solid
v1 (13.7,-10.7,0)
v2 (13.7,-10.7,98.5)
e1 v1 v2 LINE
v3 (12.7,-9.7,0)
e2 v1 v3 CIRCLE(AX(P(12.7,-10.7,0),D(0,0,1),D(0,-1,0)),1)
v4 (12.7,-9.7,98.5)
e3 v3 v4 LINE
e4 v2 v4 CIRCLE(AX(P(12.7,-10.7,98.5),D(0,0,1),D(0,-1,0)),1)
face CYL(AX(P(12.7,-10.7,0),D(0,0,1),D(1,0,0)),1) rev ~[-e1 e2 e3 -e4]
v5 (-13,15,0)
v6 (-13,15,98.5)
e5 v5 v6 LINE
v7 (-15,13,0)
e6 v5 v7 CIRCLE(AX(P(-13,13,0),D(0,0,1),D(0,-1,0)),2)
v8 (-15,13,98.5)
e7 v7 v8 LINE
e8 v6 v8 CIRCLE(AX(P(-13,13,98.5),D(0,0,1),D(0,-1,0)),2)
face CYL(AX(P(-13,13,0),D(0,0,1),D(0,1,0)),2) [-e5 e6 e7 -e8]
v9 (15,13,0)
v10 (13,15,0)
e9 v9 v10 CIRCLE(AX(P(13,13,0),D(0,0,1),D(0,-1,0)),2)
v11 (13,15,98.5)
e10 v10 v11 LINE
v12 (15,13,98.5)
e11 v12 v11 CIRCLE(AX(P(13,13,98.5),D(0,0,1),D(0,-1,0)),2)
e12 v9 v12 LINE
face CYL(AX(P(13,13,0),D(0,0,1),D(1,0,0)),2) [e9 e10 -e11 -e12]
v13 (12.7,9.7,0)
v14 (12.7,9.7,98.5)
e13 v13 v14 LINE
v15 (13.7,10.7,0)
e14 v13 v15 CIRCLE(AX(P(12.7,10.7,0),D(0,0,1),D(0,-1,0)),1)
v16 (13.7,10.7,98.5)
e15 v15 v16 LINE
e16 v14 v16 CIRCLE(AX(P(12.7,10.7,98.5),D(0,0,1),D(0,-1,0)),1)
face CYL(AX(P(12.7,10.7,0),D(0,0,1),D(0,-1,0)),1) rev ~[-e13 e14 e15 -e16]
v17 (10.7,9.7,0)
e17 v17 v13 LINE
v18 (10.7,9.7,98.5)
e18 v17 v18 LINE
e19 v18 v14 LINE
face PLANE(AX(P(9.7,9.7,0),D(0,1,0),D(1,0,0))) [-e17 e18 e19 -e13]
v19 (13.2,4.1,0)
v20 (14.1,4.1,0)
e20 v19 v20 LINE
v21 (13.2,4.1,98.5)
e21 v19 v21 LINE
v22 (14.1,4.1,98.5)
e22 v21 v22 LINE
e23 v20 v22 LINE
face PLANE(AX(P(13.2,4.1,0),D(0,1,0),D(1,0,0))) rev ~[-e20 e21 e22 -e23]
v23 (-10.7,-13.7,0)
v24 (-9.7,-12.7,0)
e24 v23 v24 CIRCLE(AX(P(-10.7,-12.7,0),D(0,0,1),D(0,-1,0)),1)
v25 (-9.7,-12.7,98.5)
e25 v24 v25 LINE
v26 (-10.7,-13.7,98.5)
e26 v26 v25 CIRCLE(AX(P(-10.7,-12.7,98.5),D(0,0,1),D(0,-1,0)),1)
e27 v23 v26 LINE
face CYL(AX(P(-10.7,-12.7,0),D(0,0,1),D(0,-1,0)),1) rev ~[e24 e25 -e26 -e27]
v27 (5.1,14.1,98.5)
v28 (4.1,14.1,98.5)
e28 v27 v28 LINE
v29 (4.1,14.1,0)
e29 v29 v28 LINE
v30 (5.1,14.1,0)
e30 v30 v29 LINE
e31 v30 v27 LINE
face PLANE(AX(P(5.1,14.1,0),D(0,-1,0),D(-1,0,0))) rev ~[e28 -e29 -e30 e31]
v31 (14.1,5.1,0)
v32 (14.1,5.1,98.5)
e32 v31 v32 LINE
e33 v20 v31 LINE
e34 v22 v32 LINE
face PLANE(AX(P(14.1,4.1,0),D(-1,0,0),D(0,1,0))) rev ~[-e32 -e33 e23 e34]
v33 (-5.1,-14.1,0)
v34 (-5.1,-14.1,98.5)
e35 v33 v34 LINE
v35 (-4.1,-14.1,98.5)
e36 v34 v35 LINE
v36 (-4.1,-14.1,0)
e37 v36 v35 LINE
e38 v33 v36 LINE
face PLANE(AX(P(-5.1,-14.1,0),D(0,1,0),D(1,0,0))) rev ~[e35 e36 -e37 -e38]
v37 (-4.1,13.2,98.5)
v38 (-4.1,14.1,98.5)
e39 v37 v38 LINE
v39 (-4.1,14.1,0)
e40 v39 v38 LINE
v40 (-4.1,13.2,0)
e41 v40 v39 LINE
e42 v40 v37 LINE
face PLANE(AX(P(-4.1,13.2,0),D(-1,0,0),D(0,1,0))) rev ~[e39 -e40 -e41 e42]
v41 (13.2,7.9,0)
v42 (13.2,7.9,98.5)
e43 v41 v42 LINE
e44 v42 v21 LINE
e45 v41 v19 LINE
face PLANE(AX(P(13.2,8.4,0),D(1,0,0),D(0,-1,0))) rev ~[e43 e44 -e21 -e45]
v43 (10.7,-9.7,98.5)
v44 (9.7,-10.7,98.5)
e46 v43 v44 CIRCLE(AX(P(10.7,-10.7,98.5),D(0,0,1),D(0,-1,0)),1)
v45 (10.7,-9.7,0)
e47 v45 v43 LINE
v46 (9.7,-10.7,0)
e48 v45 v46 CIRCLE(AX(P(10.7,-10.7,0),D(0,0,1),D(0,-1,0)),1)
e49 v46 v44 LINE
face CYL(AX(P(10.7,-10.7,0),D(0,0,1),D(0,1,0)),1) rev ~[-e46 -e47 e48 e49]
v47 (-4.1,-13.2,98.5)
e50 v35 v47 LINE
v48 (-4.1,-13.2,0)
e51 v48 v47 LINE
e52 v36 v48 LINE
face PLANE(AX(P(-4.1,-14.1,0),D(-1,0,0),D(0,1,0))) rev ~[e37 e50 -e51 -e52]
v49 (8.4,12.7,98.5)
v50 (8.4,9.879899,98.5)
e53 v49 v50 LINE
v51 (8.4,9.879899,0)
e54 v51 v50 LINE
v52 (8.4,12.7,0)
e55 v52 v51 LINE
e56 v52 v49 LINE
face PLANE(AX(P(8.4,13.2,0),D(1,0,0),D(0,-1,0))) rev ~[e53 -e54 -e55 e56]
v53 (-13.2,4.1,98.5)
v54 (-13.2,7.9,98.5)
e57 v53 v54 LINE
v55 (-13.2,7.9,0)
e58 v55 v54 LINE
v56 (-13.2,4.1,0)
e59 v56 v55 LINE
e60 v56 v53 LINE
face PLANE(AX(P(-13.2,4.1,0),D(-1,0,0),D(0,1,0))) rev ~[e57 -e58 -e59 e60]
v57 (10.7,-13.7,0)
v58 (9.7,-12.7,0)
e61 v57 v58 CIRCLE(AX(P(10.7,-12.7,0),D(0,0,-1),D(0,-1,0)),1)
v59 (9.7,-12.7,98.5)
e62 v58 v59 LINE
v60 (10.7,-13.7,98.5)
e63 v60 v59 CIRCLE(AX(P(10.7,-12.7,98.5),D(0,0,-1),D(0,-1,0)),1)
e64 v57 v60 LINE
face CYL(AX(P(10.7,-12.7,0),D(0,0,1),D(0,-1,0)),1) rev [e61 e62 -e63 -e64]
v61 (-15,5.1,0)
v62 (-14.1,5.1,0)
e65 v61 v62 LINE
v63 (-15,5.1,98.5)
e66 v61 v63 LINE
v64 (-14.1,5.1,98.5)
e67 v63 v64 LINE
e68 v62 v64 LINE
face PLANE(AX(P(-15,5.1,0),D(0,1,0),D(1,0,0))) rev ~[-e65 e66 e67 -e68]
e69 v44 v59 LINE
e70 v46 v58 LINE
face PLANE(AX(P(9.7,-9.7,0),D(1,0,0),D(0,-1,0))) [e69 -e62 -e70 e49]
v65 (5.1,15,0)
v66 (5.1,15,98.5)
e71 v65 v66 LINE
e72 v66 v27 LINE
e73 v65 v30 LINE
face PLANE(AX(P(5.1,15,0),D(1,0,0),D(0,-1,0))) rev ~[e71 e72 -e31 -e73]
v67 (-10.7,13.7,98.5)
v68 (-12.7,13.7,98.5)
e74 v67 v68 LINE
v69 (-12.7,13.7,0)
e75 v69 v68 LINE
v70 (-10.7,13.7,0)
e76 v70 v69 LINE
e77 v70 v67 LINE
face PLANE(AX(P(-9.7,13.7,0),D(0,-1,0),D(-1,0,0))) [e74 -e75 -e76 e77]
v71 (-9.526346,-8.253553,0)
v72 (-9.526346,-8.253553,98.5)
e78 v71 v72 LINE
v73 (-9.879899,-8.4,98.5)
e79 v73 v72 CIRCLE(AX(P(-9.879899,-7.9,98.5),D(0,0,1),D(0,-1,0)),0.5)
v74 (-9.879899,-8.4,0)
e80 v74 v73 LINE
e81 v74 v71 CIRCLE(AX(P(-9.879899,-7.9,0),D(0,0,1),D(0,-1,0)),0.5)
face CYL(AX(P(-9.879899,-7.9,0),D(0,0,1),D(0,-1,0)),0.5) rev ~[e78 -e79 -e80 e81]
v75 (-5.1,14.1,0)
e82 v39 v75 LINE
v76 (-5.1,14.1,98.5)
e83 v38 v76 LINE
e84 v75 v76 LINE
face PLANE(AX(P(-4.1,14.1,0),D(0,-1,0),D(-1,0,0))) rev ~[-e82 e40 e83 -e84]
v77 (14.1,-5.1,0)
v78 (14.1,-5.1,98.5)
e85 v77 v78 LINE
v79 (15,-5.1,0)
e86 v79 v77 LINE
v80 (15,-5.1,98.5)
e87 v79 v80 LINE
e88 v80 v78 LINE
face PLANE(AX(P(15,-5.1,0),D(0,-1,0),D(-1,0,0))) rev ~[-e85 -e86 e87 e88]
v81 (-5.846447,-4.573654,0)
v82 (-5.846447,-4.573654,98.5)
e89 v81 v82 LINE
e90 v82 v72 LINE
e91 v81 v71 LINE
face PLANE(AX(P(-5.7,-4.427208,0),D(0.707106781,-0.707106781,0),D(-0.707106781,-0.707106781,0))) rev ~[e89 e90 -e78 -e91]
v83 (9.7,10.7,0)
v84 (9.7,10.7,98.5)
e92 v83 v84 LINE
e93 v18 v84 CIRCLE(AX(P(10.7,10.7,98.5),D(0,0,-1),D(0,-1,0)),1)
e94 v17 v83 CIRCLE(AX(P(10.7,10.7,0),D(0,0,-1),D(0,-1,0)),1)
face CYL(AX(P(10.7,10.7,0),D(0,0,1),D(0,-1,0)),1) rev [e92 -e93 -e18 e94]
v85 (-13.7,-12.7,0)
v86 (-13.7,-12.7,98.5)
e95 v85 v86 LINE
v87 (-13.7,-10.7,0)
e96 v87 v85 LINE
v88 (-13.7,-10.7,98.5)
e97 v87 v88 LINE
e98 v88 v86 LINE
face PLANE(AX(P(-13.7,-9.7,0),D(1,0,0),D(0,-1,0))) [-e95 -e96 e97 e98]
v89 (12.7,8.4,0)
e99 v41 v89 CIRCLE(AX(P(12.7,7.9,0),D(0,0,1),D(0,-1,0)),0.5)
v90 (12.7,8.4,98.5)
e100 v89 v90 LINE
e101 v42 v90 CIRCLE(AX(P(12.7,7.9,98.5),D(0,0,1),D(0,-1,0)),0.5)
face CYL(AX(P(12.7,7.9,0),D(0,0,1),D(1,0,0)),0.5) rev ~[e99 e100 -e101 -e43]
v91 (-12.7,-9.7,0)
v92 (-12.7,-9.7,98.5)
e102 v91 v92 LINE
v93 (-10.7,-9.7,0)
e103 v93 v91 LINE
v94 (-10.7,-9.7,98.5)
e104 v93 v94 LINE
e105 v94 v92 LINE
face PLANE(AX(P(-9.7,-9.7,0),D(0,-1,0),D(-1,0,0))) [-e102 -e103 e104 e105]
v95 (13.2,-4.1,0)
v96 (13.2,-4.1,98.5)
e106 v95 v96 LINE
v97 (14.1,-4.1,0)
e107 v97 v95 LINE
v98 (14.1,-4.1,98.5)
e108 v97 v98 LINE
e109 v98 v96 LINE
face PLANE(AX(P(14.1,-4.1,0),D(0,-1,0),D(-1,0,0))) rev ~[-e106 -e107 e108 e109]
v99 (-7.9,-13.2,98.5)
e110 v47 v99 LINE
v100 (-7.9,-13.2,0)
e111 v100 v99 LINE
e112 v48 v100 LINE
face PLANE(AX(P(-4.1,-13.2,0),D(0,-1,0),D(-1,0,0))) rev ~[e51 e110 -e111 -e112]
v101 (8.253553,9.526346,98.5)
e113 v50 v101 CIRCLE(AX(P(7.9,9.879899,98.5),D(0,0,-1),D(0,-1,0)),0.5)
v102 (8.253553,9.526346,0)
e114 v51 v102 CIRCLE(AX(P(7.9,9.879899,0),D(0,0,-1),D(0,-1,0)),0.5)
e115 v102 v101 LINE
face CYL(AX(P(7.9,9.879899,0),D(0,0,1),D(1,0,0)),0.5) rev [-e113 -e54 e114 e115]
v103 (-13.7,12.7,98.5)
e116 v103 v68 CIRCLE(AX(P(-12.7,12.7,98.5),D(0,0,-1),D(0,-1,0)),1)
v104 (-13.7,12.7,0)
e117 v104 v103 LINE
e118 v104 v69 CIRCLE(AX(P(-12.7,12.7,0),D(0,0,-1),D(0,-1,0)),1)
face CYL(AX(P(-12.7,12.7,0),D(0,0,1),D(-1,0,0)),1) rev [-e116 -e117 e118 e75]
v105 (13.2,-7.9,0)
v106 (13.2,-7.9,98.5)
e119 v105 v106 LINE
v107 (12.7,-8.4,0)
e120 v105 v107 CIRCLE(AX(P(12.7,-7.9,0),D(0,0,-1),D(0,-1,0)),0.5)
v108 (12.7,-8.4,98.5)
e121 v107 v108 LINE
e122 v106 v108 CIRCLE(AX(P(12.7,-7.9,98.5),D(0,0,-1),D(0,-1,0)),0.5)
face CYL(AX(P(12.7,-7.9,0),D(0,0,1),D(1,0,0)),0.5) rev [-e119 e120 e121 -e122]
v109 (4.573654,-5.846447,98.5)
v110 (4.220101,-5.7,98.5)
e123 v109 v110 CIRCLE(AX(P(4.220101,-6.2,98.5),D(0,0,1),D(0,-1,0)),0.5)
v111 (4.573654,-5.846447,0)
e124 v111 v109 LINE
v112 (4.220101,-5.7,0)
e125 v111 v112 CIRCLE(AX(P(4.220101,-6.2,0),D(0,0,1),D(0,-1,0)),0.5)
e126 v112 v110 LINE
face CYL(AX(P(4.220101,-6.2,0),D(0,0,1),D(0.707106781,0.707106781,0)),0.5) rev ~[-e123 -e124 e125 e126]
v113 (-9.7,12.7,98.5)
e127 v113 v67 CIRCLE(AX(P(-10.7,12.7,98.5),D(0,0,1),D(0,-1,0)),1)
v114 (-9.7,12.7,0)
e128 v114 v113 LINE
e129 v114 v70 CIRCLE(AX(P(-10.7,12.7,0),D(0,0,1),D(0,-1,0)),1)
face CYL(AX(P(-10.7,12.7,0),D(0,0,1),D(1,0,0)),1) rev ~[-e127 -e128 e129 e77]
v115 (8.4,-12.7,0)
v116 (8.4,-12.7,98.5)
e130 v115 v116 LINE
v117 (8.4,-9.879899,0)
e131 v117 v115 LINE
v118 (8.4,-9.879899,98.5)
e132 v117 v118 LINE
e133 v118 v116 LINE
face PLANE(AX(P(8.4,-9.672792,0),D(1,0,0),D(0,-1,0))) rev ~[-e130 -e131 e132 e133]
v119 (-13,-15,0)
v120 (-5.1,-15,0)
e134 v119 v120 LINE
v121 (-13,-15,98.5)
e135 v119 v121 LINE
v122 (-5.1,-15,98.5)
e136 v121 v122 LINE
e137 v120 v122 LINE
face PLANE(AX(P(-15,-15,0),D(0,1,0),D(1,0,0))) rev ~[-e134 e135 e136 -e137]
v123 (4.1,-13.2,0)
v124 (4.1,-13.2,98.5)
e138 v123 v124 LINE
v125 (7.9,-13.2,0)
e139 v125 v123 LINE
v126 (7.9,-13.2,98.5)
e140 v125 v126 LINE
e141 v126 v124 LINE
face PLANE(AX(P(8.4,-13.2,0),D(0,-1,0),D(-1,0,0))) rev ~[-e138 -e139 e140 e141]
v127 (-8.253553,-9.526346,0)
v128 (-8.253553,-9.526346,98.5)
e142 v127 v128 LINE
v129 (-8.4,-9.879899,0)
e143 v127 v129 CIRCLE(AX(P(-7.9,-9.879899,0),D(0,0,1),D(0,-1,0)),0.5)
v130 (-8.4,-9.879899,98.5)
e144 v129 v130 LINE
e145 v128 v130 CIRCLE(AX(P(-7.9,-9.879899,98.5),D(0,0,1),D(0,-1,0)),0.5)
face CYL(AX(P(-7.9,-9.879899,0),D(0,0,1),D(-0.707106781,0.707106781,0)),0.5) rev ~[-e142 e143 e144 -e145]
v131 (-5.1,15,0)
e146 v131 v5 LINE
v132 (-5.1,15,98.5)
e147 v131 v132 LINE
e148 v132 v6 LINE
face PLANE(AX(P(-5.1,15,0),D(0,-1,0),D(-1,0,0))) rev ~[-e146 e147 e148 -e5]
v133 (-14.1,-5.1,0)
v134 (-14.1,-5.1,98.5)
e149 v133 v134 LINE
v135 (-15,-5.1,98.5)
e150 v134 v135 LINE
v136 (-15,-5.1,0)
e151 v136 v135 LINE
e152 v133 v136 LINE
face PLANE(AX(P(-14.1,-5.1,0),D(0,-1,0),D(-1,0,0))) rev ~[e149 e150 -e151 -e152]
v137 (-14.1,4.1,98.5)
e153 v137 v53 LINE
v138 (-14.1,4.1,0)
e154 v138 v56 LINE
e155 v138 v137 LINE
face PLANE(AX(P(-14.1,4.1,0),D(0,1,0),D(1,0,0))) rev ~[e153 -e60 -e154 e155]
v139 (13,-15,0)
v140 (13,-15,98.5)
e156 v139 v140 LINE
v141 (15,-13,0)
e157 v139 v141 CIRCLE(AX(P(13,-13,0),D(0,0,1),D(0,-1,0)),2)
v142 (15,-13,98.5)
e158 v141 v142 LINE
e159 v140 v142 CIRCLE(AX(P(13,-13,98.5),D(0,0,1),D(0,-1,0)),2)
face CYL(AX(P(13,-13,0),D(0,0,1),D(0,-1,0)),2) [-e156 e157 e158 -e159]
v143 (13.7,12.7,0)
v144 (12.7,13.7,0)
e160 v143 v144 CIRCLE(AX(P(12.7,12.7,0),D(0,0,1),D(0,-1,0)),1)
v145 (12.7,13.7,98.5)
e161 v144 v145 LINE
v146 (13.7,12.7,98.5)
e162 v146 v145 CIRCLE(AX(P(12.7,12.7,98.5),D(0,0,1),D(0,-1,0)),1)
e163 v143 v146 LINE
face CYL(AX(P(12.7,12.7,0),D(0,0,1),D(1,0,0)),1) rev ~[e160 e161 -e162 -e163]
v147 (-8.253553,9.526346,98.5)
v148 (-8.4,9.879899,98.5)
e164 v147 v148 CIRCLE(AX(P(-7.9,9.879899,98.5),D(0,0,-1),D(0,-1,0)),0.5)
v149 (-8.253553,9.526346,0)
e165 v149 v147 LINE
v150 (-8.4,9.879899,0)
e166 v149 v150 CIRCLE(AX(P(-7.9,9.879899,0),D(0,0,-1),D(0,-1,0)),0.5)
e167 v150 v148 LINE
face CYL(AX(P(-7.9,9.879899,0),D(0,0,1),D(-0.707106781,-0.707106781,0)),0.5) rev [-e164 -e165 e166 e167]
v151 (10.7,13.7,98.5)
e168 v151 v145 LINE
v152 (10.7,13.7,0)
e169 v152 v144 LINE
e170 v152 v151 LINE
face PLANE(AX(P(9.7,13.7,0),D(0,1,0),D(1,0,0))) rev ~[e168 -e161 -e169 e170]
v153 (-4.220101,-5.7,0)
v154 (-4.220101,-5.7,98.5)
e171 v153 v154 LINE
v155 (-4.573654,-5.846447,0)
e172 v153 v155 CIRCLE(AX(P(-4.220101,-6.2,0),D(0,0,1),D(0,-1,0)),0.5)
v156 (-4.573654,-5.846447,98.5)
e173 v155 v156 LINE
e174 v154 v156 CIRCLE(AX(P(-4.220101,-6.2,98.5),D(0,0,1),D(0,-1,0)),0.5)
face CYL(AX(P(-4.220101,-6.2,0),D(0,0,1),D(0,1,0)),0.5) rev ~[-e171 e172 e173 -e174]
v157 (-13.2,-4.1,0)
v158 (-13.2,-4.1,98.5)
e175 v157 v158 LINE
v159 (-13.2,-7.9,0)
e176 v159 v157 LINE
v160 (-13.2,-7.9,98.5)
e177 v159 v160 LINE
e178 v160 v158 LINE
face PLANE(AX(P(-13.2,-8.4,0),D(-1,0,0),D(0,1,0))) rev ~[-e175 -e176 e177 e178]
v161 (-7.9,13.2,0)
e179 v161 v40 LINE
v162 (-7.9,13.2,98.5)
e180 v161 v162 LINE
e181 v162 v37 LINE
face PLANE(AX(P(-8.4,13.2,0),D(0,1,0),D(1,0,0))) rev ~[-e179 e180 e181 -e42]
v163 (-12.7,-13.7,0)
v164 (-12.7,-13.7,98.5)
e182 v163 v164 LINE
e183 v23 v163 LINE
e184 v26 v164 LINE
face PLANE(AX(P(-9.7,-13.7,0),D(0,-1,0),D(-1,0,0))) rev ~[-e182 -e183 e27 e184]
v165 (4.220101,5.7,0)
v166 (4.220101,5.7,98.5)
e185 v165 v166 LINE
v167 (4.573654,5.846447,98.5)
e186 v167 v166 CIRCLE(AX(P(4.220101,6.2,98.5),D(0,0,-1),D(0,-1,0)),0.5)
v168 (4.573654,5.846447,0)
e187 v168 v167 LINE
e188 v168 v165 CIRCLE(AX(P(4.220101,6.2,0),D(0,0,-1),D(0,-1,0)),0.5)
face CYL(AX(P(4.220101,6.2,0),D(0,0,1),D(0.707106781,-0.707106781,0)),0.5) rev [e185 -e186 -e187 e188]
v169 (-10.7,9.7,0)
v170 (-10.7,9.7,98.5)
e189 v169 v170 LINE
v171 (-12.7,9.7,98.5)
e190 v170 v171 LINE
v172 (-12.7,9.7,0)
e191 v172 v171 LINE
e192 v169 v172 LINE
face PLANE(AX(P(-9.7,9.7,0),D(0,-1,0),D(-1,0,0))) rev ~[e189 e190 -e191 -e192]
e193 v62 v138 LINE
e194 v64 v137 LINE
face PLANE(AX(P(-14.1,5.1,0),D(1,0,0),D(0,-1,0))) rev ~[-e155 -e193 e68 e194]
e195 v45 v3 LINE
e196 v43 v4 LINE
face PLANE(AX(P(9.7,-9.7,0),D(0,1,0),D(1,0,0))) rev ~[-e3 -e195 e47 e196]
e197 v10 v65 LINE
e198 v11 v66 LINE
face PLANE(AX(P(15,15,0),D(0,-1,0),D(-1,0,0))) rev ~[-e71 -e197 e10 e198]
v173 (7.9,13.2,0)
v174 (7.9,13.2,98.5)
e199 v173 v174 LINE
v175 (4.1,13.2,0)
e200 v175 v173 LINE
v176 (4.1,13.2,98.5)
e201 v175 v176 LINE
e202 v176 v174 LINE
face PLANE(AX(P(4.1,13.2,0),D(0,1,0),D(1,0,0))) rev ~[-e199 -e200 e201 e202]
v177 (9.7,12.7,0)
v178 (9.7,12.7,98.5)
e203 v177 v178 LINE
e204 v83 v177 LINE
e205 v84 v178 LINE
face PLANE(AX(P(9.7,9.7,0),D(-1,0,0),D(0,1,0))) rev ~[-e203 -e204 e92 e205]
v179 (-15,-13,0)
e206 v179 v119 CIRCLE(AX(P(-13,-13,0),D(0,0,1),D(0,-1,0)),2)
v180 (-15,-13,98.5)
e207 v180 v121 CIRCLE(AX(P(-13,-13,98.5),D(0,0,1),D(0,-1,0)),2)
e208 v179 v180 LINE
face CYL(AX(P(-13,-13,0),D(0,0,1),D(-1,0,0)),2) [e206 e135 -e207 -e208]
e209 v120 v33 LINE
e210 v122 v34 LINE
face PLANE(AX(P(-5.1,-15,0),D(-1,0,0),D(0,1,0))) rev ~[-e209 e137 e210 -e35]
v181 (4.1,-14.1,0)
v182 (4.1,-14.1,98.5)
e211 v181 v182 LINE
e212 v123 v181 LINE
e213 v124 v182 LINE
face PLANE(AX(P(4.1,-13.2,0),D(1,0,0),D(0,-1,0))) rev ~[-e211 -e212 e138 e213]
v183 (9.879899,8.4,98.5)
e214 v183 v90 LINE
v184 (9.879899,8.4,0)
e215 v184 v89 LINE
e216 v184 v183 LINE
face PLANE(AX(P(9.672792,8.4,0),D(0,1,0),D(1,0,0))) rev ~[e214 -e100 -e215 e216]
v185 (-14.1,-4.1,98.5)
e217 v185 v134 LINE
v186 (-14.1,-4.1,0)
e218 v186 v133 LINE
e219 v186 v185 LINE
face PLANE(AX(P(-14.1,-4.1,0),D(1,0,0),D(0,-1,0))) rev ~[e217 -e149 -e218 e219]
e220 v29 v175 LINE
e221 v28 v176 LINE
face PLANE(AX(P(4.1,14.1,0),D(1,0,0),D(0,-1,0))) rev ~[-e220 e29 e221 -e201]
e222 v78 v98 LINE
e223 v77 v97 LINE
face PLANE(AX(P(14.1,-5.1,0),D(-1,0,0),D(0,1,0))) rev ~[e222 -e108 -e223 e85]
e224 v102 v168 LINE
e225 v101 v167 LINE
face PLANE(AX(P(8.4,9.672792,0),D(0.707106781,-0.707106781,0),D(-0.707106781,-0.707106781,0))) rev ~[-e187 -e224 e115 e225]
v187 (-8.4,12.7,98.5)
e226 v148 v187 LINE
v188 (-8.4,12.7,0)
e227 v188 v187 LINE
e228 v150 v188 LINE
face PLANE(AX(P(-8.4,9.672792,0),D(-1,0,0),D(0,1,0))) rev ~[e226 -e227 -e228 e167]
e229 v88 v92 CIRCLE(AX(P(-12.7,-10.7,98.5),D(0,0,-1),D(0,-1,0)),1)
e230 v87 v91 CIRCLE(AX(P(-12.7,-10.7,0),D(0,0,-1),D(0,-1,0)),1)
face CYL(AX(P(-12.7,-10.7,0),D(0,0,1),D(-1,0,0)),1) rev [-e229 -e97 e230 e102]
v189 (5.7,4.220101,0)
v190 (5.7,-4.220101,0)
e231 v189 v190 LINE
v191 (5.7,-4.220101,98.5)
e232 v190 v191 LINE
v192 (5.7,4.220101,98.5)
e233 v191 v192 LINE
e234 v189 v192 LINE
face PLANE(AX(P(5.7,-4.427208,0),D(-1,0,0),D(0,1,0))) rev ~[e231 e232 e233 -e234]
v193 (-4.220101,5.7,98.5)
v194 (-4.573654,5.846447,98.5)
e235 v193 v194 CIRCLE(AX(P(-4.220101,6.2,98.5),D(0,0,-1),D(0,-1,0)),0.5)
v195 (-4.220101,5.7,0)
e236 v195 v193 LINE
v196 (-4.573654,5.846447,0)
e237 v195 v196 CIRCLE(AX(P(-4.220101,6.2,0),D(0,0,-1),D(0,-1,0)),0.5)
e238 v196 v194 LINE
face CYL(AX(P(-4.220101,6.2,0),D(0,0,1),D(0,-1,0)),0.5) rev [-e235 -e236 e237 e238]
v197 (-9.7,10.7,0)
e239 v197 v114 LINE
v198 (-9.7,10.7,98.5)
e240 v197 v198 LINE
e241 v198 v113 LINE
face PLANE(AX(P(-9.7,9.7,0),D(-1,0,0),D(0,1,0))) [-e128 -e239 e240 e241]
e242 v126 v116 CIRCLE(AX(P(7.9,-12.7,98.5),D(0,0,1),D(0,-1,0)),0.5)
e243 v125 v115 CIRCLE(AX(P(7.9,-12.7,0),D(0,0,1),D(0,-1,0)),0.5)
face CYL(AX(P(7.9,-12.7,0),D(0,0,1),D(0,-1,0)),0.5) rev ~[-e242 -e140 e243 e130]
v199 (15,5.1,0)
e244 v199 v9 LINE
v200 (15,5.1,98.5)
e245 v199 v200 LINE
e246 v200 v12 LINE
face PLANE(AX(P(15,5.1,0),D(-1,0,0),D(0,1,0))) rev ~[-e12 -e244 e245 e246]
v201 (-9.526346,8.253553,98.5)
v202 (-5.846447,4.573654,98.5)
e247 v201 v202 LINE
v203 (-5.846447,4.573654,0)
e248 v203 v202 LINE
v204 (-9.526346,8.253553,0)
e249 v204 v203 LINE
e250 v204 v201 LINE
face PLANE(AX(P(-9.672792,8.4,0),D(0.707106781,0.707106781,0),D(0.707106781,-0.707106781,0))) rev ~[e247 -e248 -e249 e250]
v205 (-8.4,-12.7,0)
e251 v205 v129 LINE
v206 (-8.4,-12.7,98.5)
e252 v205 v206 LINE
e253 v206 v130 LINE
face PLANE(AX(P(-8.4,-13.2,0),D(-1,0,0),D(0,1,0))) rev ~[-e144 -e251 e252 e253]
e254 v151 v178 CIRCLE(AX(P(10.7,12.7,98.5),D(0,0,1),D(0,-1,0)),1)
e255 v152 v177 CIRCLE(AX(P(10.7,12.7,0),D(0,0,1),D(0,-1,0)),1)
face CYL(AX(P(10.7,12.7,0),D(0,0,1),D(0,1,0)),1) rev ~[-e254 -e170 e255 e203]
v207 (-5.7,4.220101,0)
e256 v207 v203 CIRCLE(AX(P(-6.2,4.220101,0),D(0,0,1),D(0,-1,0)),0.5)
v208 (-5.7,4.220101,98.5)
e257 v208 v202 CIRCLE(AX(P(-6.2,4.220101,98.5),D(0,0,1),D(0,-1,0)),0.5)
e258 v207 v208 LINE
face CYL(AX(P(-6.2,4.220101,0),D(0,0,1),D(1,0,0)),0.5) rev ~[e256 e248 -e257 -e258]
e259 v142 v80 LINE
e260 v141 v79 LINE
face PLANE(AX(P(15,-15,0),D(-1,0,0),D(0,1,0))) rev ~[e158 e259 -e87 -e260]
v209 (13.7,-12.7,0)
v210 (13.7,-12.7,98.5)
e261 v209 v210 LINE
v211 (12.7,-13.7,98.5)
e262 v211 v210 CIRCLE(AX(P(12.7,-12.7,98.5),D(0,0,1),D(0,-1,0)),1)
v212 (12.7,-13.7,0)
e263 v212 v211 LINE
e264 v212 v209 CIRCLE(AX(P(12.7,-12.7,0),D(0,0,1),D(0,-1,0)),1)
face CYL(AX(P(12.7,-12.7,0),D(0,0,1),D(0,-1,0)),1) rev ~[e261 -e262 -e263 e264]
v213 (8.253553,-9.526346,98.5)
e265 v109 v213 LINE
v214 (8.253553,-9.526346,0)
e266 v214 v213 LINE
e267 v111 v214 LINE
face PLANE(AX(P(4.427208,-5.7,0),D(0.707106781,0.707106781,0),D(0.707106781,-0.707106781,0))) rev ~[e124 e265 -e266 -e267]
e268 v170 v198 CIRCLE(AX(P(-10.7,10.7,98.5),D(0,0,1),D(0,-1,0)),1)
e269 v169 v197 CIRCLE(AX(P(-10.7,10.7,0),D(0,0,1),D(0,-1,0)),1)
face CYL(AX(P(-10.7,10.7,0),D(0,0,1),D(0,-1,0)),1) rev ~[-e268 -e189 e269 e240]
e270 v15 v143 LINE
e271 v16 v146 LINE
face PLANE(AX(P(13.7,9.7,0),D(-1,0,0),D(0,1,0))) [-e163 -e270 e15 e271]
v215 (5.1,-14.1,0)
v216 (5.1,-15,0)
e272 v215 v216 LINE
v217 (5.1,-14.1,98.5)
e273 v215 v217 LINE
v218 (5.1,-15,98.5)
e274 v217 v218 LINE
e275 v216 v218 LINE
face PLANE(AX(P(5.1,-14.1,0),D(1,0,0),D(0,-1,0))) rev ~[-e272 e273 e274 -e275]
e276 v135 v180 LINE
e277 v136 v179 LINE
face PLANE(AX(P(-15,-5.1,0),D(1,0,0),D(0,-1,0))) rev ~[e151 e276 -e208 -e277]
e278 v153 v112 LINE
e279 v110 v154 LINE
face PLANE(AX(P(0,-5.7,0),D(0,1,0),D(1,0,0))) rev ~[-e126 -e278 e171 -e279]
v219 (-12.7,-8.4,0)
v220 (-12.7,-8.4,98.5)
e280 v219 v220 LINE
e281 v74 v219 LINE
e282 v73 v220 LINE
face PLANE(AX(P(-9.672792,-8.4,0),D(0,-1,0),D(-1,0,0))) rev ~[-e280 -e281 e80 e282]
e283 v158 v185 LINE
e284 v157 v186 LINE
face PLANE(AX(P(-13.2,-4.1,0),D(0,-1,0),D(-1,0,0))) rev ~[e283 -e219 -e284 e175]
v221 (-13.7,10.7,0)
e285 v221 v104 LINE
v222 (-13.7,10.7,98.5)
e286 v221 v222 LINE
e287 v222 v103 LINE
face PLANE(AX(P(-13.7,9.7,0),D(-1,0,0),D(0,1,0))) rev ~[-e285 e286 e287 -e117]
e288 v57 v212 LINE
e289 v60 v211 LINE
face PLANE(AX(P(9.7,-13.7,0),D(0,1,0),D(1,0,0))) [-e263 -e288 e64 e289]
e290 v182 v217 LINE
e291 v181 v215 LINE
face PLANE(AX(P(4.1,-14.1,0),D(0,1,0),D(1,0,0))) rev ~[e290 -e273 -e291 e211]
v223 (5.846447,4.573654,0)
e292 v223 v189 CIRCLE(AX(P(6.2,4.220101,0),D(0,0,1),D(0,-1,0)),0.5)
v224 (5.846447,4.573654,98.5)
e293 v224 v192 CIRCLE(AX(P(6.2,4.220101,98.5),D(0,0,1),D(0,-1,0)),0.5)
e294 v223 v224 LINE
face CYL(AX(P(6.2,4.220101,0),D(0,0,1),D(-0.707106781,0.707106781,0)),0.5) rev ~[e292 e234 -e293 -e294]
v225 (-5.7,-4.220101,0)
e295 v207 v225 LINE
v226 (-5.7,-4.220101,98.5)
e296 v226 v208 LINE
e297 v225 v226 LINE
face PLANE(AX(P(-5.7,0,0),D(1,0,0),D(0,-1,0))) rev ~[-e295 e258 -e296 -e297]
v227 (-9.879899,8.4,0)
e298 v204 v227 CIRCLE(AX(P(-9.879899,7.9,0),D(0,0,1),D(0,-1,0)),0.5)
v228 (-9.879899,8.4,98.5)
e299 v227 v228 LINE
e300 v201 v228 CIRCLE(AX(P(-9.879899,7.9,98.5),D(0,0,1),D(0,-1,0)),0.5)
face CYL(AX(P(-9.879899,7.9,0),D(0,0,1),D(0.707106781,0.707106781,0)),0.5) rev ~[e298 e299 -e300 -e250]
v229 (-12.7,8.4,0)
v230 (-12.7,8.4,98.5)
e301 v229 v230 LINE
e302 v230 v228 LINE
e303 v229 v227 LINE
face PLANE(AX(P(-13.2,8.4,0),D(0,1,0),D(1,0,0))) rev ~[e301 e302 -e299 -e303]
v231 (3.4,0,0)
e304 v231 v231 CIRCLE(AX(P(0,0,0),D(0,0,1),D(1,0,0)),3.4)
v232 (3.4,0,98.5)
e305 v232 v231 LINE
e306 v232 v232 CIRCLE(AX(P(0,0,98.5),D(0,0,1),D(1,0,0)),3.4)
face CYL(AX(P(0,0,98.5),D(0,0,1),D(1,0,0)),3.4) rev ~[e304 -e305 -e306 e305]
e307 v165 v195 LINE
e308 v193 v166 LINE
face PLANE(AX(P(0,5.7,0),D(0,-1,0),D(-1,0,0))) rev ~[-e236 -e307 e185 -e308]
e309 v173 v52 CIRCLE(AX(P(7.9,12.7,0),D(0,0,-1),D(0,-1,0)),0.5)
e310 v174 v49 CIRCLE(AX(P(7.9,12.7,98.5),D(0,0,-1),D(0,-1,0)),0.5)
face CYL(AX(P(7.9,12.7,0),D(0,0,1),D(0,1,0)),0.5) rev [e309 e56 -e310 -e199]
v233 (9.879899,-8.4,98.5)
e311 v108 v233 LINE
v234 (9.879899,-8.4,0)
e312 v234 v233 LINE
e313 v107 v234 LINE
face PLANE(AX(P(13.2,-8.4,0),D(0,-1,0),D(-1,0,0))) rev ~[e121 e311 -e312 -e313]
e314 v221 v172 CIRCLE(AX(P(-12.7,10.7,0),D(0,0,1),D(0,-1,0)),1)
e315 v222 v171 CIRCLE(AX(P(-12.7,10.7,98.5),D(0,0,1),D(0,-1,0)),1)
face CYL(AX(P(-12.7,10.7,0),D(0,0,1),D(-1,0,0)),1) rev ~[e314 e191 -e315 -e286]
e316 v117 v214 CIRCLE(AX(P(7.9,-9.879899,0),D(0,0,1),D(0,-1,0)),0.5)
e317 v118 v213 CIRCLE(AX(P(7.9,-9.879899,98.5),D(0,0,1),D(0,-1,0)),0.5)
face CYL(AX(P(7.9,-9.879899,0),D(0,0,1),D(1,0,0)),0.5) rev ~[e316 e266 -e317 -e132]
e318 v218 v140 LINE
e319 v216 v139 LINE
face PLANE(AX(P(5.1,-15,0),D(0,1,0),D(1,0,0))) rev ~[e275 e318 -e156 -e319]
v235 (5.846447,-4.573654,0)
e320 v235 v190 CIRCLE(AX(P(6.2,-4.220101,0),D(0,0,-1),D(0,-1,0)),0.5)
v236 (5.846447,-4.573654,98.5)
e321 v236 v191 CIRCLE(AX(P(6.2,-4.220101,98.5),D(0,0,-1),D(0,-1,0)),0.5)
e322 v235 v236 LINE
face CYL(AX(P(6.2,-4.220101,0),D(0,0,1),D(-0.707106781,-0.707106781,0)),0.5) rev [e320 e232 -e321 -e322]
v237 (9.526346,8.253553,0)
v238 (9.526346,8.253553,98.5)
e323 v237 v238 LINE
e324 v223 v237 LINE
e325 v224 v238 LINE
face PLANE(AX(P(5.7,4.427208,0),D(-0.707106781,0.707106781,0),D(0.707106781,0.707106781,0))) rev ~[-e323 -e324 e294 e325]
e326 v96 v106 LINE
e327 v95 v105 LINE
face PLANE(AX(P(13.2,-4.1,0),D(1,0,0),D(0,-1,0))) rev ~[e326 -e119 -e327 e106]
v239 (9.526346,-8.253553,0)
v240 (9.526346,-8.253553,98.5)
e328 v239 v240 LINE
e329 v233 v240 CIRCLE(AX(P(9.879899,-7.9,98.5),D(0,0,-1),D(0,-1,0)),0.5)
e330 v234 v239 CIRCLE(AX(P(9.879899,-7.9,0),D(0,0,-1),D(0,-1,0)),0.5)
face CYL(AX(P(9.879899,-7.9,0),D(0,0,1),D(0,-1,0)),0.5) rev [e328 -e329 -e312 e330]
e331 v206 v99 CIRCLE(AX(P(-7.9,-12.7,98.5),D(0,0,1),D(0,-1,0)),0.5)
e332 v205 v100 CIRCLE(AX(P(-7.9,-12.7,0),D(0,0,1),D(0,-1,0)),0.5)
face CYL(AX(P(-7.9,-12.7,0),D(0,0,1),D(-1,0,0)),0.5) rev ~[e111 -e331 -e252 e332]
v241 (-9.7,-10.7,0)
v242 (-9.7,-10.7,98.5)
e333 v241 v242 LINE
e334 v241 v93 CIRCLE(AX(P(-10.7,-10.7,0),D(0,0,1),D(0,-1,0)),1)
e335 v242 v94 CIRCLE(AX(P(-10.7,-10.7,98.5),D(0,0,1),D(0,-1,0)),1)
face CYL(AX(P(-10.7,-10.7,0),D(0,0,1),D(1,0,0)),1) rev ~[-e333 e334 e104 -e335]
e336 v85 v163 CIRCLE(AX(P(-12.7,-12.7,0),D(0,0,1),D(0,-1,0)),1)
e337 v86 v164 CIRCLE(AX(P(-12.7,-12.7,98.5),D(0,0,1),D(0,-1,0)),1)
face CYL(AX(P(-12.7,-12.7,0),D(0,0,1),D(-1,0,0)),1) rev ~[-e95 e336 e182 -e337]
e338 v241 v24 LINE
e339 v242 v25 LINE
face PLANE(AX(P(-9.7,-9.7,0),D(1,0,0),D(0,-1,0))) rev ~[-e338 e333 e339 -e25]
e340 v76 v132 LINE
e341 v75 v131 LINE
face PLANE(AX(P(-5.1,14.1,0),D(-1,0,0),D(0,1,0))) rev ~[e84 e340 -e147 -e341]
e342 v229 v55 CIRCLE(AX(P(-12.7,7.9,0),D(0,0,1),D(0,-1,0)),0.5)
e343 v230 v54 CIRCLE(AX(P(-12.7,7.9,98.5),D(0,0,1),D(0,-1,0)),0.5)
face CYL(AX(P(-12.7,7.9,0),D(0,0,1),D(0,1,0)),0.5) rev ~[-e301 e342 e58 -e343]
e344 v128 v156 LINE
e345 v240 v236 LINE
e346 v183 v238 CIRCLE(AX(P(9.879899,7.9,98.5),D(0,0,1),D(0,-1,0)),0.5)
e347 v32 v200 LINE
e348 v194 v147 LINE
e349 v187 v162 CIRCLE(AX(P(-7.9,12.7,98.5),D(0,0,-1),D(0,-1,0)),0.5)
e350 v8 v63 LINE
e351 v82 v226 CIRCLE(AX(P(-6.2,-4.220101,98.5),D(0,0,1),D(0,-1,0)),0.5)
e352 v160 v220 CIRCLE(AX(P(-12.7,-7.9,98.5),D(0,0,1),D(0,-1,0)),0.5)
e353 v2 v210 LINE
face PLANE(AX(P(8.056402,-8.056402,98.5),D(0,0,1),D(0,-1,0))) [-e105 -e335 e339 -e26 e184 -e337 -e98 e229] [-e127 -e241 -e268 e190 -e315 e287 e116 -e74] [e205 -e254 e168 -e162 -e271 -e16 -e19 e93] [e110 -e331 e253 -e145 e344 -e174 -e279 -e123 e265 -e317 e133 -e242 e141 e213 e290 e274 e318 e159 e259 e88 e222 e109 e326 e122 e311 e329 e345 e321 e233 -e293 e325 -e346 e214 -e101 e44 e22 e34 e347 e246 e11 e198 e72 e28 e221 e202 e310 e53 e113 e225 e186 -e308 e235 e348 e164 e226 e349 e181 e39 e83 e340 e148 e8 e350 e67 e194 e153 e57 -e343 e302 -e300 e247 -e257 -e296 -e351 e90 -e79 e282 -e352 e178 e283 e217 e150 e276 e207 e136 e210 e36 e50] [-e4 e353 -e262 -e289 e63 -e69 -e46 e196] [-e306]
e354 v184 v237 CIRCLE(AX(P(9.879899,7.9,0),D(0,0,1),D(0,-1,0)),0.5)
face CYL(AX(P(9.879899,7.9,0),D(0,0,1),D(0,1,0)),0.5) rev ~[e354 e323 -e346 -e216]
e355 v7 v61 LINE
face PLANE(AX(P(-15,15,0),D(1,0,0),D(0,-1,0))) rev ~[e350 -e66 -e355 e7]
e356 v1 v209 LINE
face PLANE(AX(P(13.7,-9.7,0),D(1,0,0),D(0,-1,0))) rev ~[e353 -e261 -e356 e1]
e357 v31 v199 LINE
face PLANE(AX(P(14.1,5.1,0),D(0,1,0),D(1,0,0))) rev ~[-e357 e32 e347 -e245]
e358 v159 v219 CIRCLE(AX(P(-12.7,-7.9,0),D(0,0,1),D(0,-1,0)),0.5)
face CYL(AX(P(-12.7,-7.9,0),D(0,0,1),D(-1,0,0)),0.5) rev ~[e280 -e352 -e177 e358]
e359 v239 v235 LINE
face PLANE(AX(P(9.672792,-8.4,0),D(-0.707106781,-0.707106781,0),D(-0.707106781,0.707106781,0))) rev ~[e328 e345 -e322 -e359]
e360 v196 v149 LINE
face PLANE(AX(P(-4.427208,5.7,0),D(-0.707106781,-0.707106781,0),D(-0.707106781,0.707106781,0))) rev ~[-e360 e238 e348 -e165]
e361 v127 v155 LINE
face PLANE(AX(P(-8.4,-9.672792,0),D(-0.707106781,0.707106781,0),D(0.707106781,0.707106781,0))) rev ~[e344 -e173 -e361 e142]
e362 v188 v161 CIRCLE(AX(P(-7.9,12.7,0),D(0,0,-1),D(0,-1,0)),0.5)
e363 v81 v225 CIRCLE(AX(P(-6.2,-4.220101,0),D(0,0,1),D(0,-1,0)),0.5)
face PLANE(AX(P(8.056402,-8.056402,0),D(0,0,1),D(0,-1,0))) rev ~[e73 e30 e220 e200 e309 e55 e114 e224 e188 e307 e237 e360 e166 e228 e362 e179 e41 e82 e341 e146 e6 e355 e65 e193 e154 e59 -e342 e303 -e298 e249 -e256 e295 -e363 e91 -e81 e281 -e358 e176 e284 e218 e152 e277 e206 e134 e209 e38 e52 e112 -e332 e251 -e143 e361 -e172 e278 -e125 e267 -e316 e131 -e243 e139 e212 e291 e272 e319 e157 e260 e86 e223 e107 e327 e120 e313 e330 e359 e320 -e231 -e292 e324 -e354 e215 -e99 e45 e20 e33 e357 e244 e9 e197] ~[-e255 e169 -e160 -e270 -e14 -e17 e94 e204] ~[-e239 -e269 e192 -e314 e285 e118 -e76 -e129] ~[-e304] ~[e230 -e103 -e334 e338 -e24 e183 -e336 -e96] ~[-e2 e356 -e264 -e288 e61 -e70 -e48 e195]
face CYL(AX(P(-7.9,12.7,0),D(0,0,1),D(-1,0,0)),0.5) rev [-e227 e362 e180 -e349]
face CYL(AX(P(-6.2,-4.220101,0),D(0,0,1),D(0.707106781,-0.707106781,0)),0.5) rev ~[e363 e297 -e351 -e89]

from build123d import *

# Parameters (mm, degrees)
SKETCH_1_W                       = 4
SKETCH_1_H                       = 4
EXTRUDE_1_DEPTH                  = 98.5
FILLET_1_R                       = 1
FILLET_2_R                       = 2
FILLET_3_R                       = 0.5
PATTERN_CIRCULAR_1_COUNT         = 4
FILLET_1_OF_PATTERN_CIRCULAR_1_R = 1
FILLET_2_OF_PATTERN_CIRCULAR_1_R = 2
FILLET_3_OF_PATTERN_CIRCULAR_1_R = 0.5
SKETCH_2_R                       = 3.4
CUT_EXTRUDE_1_DEPTH              = 99.5


with BuildPart() as part:
    # 草图1 → 凸台-拉伸1 (new body)
    with BuildSketch(Plane.XY):
        Polygon((5.7, 0), (5.7, 4.427207794), (9.672792206, 8.4), (13.2, 8.4), (13.2, 4.1), (14.1, 4.1), (14.1, 5.1), (15, 5.1), (15, 15), (5.1, 15), (5.1, 14.1), (4.1, 14.1), (4.1, 13.2), (8.4, 13.2), (8.4, 9.672792206), (4.427207794, 5.7), (0, 5.7), (0, 0), align=None)
        with Locations((11.7, 11.7)):
            Rectangle(SKETCH_1_W, SKETCH_1_H, mode=Mode.SUBTRACT)
    extrude_1 = extrude(amount=EXTRUDE_1_DEPTH)

    # 圆角1
    fillet_1_edges = [part.edges().sort_by_distance(p)[0] for p in [
        (13.7, 9.7, 49.25),
        (13.7, 13.7, 49.25),
        (9.7, 13.7, 49.25),
        (9.7, 9.7, 49.25),
    ]]
    fillet(fillet_1_edges, radius=FILLET_1_R)

    # 圆角2
    fillet_2_edges = [part.edges().sort_by_distance(p)[0] for p in [
        (15, 15, 49.25),
    ]]
    fillet(fillet_2_edges, radius=FILLET_2_R)

    # 圆角3
    fillet_3_edges = [part.edges().sort_by_distance(p)[0] for p in [
        (4.427207794, 5.7, 49.25),
        (8.4, 9.672792206, 49.25),
        (8.4, 13.2, 49.25),
        (13.2, 8.4, 49.25),
        (9.672792206, 8.4, 49.25),
        (5.7, 4.427207794, 49.25),
    ]]
    fillet(fillet_3_edges, radius=FILLET_3_R)

    # 阵列(圆周)1: 凸台-拉伸1 ×4 about axis
    pattern_circular_1_axis = Axis((0, 0, 0), (0, 0, 1))
    for i in range(1, PATTERN_CIRCULAR_1_COUNT):
        add(extrude_1.rotate(pattern_circular_1_axis, i * 360 / PATTERN_CIRCULAR_1_COUNT))

    # 圆角1 of 阵列(圆周)1
    fillet_1_of_pattern_circular_1_edges = [part.edges().sort_by_distance(p)[0] for p in [
        (-9.7, 13.7, 49.25),
        (-13.7, 13.7, 49.25),
        (-13.7, 9.7, 49.25),
        (-9.7, 9.7, 49.25),
        (-13.7, -9.7, 49.25),
        (-13.7, -13.7, 49.25),
        (-9.7, -13.7, 49.25),
        (-9.7, -9.7, 49.25),
        (9.7, -13.7, 49.25),
        (13.7, -13.7, 49.25),
        (13.7, -9.7, 49.25),
        (9.7, -9.7, 49.25),
    ]]
    fillet(fillet_1_of_pattern_circular_1_edges, radius=FILLET_1_OF_PATTERN_CIRCULAR_1_R)

    # 圆角2 of 阵列(圆周)1
    fillet_2_of_pattern_circular_1_edges = [part.edges().sort_by_distance(p)[0] for p in [
        (-15, 15, 49.25),
        (-15, -15, 49.25),
        (15, -15, 49.25),
    ]]
    fillet(fillet_2_of_pattern_circular_1_edges, radius=FILLET_2_OF_PATTERN_CIRCULAR_1_R)

    # 圆角3 of 阵列(圆周)1
    fillet_3_of_pattern_circular_1_edges = [part.edges().sort_by_distance(p)[0] for p in [
        (-5.7, 4.427207794, 49.25),
        (-9.672792206, 8.4, 49.25),
        (-13.2, 8.4, 49.25),
        (-8.4, 13.2, 49.25),
        (-8.4, 9.672792206, 49.25),
        (-4.427207794, 5.7, 49.25),
        (-4.427207794, -5.7, 49.25),
        (-8.4, -9.672792206, 49.25),
        (-8.4, -13.2, 49.25),
        (-13.2, -8.4, 49.25),
        (-9.672792206, -8.4, 49.25),
        (-5.7, -4.427207794, 49.25),
        (5.7, -4.427207794, 49.25),
        (9.672792206, -8.4, 49.25),
        (13.2, -8.4, 49.25),
        (8.4, -13.2, 49.25),
        (8.4, -9.672792206, 49.25),
        (4.427207794, -5.7, 49.25),
    ]]
    fillet(fillet_3_of_pattern_circular_1_edges, radius=FILLET_3_OF_PATTERN_CIRCULAR_1_R)

    # 草图2 → 切除-拉伸1 (cut, through all)
    with BuildSketch(Plane.XY.offset(98.5)):
        Circle(SKETCH_2_R)
    extrude(amount=-CUT_EXTRUDE_1_DEPTH, mode=Mode.SUBTRACT)


solid = part.part
